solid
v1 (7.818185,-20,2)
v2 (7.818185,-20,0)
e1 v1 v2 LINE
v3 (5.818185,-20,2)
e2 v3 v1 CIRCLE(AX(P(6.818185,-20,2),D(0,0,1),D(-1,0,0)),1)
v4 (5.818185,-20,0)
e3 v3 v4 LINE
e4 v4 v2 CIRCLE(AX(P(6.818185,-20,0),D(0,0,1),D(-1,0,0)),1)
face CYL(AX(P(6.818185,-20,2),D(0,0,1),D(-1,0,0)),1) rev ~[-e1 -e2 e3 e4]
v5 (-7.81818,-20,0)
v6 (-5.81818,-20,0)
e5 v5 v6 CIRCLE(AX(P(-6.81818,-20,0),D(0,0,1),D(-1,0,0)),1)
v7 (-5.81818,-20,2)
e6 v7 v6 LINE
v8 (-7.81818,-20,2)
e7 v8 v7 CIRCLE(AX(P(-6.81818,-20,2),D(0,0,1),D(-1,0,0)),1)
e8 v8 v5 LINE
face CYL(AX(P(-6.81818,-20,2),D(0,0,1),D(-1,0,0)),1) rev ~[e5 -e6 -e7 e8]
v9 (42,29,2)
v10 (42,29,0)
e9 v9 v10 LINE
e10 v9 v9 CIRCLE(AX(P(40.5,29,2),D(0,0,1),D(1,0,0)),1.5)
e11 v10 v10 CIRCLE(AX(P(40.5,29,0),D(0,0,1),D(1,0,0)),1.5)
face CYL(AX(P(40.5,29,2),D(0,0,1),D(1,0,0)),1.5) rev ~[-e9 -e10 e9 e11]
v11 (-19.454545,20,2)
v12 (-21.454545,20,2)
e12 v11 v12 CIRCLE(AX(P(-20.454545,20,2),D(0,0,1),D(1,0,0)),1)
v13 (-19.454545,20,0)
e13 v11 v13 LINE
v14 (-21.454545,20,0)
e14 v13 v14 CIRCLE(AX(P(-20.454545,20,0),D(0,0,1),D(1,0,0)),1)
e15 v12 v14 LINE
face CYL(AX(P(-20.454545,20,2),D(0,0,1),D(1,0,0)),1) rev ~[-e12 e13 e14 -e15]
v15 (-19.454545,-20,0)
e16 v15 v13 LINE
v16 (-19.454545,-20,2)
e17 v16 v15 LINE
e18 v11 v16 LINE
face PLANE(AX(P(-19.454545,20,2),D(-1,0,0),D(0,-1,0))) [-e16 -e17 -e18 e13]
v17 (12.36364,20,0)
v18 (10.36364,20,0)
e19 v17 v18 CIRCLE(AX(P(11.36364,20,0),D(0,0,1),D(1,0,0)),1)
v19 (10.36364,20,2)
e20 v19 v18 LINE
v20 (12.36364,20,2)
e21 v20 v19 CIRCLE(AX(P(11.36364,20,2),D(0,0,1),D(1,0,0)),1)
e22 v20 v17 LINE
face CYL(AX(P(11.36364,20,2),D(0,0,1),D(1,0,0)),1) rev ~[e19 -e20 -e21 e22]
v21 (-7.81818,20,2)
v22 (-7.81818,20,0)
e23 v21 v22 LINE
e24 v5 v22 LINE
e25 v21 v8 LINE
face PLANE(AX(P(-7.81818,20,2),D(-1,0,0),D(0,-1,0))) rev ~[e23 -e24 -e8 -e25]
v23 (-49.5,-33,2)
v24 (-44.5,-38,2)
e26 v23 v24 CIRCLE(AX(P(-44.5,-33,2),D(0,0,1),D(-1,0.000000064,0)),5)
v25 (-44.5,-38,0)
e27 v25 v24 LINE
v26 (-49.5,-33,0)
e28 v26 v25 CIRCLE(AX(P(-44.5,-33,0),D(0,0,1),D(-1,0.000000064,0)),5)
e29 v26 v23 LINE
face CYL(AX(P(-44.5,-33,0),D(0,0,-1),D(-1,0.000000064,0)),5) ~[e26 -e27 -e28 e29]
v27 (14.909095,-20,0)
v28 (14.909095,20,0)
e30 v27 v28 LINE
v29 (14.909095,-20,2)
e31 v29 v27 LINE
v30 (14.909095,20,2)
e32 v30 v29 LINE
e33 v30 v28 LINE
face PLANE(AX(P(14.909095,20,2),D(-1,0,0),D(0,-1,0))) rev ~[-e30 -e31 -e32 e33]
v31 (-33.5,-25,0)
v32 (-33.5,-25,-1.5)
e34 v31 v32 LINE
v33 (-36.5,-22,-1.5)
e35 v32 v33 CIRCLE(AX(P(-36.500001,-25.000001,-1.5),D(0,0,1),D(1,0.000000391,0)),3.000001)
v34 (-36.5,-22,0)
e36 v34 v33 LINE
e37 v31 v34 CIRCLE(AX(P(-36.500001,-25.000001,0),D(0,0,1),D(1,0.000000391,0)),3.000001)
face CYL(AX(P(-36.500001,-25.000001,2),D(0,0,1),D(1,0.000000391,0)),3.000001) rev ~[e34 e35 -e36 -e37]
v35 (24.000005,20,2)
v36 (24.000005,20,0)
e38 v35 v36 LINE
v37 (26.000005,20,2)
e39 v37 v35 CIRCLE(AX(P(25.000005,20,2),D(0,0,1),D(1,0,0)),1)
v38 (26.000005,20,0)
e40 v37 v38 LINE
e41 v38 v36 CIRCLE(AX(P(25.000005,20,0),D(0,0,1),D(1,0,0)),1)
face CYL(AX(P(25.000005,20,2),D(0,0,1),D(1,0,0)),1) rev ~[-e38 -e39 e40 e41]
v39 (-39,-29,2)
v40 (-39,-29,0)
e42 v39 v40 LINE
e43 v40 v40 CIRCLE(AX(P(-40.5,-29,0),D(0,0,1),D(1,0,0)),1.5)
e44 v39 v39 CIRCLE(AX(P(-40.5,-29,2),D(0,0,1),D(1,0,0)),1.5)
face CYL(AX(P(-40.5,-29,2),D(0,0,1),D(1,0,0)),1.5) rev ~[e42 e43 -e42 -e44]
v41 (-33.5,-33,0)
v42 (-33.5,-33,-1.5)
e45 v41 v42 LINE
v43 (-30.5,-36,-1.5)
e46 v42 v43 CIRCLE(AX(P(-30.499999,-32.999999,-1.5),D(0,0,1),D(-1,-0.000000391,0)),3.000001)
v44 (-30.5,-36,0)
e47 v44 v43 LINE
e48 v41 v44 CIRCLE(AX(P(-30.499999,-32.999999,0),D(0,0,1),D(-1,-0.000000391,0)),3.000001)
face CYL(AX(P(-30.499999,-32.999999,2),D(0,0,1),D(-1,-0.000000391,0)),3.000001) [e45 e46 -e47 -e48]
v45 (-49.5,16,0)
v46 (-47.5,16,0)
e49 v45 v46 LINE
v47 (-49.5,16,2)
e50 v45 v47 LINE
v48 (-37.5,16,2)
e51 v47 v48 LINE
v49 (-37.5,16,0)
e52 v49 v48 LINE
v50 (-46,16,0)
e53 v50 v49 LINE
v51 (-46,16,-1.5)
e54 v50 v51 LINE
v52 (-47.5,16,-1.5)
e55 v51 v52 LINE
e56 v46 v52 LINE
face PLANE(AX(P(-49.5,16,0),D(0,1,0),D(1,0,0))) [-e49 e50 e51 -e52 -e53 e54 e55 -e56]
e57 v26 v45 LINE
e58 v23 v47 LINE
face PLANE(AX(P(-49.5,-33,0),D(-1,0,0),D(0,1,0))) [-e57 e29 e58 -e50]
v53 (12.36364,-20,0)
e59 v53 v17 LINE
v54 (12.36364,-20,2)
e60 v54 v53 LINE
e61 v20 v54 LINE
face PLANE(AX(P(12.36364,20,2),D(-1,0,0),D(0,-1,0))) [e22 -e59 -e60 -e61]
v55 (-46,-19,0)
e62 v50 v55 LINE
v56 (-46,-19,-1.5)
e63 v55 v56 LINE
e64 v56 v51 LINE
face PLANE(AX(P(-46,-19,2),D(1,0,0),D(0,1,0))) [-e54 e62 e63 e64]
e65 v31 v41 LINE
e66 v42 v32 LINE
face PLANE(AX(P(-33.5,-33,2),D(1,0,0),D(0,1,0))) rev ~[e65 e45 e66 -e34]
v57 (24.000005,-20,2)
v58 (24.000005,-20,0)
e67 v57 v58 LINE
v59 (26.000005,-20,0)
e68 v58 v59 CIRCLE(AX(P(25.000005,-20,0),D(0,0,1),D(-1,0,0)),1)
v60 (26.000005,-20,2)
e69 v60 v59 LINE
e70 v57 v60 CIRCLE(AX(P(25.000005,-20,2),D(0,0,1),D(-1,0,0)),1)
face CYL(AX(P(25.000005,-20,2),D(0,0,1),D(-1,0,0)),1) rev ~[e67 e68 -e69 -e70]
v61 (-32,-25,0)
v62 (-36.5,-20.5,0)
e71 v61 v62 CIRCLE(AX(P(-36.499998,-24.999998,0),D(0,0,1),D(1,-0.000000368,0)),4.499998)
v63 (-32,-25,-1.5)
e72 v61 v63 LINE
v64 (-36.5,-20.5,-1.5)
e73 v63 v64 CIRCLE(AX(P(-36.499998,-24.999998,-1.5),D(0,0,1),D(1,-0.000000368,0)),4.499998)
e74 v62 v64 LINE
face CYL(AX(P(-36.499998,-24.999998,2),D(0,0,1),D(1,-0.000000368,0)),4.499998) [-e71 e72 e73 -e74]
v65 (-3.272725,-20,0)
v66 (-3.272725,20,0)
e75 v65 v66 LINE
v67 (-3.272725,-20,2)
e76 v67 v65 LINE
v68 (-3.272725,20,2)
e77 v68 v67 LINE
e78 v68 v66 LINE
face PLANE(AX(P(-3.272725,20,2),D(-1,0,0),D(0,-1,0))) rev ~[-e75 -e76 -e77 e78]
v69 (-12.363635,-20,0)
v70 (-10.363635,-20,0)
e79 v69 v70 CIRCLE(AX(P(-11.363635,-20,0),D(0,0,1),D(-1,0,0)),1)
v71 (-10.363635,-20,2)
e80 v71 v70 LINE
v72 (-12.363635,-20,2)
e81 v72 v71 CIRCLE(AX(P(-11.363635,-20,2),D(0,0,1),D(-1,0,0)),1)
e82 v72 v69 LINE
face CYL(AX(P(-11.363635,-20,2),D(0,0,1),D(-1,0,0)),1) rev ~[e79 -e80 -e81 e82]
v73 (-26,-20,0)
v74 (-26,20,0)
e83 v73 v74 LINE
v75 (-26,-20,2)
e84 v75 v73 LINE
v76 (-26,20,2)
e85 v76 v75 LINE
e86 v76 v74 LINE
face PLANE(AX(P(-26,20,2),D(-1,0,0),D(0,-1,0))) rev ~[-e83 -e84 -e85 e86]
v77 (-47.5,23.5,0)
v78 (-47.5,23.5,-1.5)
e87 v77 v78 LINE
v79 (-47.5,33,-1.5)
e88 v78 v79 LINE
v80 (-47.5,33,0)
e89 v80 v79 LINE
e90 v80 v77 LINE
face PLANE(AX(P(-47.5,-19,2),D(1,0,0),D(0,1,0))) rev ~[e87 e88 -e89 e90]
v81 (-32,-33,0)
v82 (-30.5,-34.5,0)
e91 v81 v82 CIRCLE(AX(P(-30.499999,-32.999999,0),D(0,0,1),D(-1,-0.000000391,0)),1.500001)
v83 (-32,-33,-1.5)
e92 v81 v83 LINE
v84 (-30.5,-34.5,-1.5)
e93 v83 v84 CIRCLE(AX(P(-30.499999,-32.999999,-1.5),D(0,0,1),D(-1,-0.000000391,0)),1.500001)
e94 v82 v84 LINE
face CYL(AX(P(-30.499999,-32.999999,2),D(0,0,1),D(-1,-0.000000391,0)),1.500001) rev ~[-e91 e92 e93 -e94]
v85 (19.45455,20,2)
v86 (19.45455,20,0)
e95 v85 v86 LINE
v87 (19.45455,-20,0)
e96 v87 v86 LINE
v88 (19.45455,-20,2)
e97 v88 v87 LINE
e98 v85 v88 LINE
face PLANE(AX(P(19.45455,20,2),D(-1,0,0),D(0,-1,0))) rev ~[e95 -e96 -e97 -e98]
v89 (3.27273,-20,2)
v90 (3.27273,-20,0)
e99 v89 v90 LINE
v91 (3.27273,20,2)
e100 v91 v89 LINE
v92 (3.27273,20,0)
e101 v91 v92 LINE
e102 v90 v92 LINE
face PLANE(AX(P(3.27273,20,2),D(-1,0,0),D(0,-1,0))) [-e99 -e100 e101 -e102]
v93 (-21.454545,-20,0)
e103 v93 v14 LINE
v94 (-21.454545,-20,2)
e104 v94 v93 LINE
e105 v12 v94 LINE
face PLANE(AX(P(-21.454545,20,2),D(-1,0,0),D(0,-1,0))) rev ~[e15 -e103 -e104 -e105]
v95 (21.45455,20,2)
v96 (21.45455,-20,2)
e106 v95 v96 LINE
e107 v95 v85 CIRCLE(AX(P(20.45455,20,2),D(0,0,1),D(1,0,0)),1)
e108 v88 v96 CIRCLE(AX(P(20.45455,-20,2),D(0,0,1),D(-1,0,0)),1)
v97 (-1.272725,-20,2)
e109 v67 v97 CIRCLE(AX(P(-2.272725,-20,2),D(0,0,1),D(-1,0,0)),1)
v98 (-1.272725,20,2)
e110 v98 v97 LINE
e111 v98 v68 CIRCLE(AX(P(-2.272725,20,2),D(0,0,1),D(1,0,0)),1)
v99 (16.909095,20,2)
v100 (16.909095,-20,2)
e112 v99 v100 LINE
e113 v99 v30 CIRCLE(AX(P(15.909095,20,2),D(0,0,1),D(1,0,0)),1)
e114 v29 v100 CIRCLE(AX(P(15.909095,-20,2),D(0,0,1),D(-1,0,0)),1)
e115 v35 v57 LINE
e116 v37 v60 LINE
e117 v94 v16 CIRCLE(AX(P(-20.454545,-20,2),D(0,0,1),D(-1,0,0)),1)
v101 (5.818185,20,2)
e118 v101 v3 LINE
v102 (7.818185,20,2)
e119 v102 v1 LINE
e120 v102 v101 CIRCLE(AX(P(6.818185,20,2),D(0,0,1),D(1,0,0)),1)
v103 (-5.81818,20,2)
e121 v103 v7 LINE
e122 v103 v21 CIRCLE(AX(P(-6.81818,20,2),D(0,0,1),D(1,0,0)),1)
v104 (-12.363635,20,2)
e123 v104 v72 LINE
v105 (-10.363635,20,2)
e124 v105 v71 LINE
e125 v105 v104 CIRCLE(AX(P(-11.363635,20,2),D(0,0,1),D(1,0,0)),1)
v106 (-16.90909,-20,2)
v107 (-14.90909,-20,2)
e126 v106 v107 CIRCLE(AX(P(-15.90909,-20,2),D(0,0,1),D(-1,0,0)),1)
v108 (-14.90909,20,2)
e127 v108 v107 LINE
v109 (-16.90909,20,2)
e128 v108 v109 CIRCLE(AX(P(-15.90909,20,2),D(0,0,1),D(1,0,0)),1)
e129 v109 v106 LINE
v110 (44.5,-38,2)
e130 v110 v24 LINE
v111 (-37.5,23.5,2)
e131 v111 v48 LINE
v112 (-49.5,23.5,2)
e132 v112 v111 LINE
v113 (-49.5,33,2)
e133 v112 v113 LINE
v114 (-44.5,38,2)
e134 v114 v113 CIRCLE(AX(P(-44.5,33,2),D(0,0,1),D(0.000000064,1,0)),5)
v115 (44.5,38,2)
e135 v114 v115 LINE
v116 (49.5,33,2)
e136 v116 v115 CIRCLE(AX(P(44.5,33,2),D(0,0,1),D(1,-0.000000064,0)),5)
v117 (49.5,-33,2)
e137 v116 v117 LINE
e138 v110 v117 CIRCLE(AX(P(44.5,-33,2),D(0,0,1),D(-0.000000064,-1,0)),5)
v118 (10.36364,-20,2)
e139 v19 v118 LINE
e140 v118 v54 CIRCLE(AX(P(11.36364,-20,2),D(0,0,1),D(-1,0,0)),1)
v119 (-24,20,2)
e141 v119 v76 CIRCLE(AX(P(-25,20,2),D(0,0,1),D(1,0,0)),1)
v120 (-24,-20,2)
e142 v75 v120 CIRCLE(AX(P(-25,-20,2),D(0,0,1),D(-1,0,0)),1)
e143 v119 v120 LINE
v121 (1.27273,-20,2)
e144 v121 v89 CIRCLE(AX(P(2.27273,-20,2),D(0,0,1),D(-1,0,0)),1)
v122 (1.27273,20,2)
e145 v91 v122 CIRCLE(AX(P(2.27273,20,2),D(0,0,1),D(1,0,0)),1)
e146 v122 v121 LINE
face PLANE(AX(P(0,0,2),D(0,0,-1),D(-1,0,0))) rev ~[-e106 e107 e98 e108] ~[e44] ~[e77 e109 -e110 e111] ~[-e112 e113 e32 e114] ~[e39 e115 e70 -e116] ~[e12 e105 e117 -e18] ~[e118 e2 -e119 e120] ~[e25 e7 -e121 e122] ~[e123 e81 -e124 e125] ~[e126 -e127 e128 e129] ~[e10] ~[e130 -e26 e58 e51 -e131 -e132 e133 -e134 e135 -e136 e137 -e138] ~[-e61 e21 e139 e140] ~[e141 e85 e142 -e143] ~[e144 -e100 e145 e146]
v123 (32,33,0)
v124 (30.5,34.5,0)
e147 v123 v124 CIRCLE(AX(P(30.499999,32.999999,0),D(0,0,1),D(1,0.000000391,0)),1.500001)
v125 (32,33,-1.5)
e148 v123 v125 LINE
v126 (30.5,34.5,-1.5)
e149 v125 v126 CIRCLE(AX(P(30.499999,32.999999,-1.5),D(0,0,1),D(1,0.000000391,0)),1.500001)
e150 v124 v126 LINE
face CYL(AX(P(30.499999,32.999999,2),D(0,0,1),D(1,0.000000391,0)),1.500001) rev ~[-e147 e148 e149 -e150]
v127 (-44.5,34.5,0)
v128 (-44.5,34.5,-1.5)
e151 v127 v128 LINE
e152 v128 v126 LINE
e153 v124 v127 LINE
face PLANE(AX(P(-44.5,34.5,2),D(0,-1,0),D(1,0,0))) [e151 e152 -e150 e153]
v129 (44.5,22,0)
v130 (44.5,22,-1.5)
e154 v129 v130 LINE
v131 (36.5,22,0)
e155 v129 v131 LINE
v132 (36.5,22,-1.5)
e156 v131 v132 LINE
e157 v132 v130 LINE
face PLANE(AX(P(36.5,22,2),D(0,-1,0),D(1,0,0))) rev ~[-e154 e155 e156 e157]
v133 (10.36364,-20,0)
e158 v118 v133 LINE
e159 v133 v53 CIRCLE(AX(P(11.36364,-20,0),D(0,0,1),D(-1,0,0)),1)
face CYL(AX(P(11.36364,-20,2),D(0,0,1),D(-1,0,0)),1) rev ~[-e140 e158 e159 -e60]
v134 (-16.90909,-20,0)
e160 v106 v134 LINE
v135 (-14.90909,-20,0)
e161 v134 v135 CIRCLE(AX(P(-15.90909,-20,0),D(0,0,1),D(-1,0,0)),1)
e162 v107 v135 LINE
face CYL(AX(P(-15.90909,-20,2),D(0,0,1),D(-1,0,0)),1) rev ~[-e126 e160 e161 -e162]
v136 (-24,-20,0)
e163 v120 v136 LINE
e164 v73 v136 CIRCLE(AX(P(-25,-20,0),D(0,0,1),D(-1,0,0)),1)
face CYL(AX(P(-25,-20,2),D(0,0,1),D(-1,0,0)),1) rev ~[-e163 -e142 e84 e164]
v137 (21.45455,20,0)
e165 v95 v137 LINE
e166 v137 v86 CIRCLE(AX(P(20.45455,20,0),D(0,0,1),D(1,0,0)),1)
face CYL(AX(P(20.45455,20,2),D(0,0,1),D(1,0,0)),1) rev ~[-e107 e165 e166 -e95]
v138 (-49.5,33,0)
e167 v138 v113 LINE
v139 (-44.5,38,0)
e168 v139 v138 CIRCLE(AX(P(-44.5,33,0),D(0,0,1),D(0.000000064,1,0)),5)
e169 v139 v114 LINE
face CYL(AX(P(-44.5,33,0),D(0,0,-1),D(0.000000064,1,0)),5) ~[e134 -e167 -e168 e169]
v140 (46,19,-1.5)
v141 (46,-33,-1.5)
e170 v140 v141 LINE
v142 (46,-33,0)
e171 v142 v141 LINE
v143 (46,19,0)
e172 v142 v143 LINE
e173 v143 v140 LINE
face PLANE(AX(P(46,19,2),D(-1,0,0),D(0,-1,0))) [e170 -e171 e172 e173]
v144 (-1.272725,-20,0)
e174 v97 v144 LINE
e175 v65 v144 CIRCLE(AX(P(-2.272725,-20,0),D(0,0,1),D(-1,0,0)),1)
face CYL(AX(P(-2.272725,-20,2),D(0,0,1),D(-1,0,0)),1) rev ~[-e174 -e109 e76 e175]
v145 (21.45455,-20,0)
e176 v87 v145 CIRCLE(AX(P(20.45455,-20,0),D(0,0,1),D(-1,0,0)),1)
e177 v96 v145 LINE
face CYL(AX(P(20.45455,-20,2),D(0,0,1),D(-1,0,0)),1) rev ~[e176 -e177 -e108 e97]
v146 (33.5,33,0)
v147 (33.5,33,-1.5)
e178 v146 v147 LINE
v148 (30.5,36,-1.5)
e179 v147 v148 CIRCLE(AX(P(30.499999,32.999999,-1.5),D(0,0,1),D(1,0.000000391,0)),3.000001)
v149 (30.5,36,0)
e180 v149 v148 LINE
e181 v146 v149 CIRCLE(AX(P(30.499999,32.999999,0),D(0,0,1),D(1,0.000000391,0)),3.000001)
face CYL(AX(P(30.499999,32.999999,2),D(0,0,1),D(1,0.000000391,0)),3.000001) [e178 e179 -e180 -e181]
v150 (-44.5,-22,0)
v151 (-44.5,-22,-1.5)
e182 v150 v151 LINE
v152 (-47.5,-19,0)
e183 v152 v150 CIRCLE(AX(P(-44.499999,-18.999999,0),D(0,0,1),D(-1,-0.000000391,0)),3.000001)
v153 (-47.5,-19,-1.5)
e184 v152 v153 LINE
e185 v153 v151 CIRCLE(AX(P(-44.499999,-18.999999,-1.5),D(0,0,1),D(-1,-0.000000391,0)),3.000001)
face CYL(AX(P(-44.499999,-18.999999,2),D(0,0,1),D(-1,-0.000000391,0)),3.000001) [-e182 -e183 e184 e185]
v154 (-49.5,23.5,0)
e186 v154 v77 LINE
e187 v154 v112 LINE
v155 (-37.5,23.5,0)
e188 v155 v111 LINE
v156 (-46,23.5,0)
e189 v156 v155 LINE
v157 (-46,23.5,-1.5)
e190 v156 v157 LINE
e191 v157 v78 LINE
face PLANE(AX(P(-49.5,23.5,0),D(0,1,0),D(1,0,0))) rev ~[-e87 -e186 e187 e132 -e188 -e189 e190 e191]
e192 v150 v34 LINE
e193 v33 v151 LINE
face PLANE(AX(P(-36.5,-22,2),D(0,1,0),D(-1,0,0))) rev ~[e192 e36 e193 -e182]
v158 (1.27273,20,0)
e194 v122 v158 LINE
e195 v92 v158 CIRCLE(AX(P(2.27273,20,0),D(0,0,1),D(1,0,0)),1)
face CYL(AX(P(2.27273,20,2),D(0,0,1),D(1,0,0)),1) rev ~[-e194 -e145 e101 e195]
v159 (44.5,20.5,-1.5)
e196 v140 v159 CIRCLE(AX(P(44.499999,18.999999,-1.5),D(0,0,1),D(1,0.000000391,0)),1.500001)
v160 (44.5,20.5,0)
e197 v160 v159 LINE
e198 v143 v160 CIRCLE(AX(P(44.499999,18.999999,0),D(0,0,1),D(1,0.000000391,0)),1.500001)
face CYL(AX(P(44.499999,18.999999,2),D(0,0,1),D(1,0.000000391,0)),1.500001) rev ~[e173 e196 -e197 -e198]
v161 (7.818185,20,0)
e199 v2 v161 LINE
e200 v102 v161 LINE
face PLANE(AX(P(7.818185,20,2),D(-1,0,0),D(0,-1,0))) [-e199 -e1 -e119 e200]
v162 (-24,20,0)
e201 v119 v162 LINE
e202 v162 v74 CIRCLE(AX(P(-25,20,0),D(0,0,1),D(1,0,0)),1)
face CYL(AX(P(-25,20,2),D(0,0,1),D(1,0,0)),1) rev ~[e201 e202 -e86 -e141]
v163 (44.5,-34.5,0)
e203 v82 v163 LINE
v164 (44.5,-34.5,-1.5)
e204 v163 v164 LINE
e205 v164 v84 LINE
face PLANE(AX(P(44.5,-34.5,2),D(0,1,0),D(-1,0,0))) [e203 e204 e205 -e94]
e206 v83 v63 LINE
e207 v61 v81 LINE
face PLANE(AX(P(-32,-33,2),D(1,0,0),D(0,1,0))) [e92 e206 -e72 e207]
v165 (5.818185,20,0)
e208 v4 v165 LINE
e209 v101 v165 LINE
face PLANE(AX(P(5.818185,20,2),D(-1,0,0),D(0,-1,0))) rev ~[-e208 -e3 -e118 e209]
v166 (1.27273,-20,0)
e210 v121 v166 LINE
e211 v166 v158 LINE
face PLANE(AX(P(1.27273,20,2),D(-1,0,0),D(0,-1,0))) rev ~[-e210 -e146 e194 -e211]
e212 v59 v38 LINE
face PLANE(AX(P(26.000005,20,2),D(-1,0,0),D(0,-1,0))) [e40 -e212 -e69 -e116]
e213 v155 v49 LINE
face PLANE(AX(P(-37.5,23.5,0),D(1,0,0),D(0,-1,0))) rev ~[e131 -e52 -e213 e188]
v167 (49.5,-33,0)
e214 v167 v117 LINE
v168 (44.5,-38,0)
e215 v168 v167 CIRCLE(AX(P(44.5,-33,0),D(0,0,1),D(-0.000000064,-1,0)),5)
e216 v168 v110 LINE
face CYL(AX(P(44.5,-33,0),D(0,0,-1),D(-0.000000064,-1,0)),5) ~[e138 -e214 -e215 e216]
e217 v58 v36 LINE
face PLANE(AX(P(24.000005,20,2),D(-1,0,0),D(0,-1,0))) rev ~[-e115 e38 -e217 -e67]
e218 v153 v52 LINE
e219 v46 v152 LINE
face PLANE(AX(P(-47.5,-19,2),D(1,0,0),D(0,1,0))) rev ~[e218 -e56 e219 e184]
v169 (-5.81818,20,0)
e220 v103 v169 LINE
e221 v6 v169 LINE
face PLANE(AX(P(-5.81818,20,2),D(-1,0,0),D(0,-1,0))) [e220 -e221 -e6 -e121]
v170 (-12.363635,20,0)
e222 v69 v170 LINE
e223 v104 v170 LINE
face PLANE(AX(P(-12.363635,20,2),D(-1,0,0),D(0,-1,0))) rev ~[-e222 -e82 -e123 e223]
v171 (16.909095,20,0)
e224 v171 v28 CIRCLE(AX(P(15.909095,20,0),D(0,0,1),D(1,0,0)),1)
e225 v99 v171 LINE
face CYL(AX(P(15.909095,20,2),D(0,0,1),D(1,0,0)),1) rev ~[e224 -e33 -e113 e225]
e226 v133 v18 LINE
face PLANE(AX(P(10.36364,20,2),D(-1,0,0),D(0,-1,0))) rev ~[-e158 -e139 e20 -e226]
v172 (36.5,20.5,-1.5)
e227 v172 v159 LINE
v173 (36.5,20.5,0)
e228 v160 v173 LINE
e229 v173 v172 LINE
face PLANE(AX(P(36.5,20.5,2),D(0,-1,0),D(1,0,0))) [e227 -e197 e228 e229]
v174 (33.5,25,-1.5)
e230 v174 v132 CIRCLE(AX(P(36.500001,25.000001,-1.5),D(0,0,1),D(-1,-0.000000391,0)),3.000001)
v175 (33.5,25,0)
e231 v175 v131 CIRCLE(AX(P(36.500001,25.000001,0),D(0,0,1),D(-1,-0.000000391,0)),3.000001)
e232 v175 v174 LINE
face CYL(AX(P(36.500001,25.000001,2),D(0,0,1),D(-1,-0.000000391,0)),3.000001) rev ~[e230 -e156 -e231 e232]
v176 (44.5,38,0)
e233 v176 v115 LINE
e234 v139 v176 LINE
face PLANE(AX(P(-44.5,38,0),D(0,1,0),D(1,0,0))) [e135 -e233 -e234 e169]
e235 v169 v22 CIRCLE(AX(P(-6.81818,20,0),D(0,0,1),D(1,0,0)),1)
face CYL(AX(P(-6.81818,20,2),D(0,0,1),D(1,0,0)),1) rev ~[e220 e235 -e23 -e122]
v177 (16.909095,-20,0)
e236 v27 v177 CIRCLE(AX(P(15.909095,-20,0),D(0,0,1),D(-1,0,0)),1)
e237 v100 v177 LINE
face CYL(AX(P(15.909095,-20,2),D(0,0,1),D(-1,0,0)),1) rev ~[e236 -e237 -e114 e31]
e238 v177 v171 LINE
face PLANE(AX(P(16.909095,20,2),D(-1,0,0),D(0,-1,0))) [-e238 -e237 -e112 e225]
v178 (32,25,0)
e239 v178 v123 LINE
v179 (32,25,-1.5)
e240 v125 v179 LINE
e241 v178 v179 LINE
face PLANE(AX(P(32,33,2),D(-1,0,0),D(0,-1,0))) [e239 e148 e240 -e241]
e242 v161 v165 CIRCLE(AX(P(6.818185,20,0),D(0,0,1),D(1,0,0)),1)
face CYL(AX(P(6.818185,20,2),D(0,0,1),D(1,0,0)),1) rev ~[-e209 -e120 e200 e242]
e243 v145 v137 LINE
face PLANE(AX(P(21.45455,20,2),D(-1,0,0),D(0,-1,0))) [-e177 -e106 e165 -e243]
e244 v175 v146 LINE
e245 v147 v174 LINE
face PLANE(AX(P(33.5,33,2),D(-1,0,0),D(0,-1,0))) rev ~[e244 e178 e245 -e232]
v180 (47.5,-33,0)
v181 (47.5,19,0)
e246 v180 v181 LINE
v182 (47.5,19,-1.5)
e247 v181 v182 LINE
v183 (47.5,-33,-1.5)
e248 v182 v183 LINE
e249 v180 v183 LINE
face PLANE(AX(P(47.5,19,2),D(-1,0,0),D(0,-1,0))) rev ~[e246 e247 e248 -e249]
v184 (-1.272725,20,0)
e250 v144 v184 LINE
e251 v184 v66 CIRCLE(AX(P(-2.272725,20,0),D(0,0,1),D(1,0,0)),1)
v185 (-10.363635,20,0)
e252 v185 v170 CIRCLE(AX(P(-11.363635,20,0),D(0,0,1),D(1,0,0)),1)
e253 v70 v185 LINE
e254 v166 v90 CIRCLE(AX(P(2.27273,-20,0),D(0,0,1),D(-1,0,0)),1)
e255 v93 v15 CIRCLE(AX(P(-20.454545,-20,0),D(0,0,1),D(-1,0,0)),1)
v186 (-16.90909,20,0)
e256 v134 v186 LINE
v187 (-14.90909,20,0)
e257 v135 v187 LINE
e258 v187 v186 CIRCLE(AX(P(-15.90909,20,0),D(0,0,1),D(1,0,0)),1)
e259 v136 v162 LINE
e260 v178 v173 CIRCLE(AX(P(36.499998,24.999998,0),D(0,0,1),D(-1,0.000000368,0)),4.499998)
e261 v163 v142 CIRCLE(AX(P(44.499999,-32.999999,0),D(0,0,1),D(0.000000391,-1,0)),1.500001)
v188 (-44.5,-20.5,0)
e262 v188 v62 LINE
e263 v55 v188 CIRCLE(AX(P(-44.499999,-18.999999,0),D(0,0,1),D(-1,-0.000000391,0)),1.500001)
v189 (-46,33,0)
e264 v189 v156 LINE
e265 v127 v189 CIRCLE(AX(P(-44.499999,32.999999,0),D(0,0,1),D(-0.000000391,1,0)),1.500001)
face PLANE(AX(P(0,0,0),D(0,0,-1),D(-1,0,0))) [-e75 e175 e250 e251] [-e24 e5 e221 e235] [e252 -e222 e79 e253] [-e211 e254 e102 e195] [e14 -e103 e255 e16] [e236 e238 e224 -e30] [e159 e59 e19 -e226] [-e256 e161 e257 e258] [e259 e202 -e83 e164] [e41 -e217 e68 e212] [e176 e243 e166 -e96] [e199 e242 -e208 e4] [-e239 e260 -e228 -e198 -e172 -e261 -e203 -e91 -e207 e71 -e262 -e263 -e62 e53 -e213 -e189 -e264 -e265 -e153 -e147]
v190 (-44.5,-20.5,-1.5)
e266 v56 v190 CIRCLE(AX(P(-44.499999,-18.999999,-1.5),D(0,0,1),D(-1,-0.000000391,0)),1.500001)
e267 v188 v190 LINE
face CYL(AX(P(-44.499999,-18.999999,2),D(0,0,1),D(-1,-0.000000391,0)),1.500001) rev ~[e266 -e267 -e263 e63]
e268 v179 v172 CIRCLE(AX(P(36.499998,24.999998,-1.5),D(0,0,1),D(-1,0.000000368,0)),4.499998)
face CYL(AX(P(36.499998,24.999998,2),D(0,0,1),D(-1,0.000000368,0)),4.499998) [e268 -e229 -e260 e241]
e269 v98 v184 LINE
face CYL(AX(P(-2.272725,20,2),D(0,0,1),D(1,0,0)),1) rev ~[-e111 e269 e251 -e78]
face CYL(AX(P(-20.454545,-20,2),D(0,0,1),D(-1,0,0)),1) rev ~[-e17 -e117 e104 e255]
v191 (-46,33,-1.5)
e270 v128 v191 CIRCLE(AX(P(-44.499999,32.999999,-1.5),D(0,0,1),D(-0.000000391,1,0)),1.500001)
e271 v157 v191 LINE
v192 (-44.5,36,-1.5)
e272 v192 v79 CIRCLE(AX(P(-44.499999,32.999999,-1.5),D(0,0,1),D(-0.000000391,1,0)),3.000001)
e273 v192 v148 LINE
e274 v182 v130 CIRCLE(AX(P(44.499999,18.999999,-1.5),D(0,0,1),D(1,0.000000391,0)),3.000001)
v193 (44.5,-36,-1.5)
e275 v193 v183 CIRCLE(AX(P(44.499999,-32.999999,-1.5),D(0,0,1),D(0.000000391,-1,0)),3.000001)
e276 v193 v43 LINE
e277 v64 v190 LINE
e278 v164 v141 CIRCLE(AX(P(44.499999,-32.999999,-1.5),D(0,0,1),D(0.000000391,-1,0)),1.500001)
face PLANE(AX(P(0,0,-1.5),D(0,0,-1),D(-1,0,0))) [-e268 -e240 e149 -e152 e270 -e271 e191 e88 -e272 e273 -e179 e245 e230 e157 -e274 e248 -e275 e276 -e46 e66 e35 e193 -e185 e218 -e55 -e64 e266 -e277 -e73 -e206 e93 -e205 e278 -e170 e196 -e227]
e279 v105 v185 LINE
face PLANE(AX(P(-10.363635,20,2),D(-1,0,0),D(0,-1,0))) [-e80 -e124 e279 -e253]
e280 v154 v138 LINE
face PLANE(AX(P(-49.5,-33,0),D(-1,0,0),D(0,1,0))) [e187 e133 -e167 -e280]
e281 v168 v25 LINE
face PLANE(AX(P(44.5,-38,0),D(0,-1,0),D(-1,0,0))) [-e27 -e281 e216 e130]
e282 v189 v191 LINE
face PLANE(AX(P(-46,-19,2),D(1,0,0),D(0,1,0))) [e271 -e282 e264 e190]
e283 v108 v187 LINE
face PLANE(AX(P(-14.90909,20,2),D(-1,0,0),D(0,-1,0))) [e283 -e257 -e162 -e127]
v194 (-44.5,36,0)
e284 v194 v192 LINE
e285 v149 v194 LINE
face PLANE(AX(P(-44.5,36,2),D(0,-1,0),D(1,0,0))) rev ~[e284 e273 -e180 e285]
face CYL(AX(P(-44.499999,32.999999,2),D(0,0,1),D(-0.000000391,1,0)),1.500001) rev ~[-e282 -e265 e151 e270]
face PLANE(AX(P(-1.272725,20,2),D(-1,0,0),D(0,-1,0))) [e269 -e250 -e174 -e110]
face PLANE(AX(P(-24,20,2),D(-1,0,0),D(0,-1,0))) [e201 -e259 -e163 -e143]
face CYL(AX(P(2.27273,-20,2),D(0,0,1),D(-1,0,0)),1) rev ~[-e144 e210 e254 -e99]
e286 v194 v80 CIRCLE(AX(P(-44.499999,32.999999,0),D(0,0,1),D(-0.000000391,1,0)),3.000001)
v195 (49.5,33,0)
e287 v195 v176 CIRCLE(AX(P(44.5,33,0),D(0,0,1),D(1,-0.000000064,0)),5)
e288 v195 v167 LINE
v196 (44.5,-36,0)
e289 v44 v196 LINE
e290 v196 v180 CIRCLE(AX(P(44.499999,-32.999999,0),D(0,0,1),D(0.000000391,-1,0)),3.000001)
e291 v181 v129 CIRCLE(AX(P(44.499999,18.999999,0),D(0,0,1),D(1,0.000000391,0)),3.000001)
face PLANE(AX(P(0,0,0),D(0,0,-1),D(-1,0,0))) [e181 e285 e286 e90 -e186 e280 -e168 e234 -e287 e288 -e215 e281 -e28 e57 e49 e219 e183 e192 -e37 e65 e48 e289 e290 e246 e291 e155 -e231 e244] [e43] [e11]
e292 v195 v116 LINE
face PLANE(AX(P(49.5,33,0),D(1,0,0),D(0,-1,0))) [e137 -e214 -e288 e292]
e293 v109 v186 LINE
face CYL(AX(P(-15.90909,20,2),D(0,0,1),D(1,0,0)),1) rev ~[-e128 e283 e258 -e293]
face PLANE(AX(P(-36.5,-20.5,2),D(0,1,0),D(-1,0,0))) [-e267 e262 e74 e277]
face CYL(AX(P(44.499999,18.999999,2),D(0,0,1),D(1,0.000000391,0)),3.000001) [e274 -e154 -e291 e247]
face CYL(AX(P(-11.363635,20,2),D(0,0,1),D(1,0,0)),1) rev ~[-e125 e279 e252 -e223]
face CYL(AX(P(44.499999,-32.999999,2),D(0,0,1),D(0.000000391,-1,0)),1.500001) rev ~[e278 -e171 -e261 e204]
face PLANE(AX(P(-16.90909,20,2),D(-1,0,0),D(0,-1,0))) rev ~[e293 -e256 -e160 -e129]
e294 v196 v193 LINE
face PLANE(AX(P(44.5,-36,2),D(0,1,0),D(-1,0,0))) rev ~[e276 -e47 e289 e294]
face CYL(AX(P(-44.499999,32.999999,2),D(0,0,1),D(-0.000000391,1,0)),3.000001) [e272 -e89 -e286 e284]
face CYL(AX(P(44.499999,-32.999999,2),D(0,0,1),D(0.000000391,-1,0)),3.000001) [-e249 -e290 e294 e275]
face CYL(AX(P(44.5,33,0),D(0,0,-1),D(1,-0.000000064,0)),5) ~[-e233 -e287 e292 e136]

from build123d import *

# Parameters (mm, degrees)
PAD_DEPTH            = 2
PAD001_DEPTH         = 3.5
SKETCH002_R          = 1.5
POCKET_DEPTH         = 5
POCKET001_DEPTH      = 5
LINEARPATTERN_COUNT  = 12
LINEARPATTERN_PITCH  = 4.545455
SKETCH004_W          = 12
SKETCH004_H          = 7.5
POCKET002_DEPTH      = 10
POCKET002_DEPTH_BACK = -100


with BuildPart() as part:
    # Sketch → Pad (new body)
    with BuildSketch(Plane.XY):
        with BuildLine():
            Line((-44.5, 38), (44.5, 38))
            ThreePointArc((49.5, 33), (48.035534, 36.535534), (44.5, 38))
            Line((49.5, 33), (49.5, -33))
            ThreePointArc((44.5, -38), (48.035534, -36.535534), (49.5, -33))
            Line((44.5, -38), (-44.5, -38))
            ThreePointArc((-49.5, -33), (-48.035534, -36.535534), (-44.5, -38))
            Line((-49.5, -33), (-49.5, 33))
            ThreePointArc((-44.5, 38), (-48.035534, 36.535534), (-49.5, 33))
        make_face()
    extrude(amount=PAD_DEPTH)

    # Sketch001 (on Face10 of Pad) → Pad001 (join)
    with BuildSketch(Plane.XY.offset(2)):
        with BuildLine():
            Line((-44.5, 36), (30.5, 36))
            ThreePointArc((33.5, 33), (32.62132, 35.12132), (30.5, 36))
            Line((33.5, 33), (33.5, 25))
            ThreePointArc((33.5, 25), (34.37868, 22.87868), (36.5, 22))
            Line((36.5, 22), (44.5, 22))
            ThreePointArc((47.5, 19), (46.62132, 21.12132), (44.5, 22))
            Line((47.5, 19), (47.5, -33))
            ThreePointArc((44.5, -36), (46.62132, -35.12132), (47.5, -33))
            Line((44.5, -36), (-30.5, -36))
            ThreePointArc((-33.5, -33), (-32.62132, -35.12132), (-30.5, -36))
            Line((-33.5, -33), (-33.5, -25))
            ThreePointArc((-33.5, -25), (-34.37868, -22.87868), (-36.5, -22))
            Line((-36.5, -22), (-44.5, -22))
            ThreePointArc((-47.5, -19), (-46.62132, -21.12132), (-44.5, -22))
            Line((-47.5, -19), (-47.5, 33))
            ThreePointArc((-44.5, 36), (-46.62132, 35.12132), (-47.5, 33))
        make_face()
        with BuildLine():
            Line((-46, -19), (-46, 33))
            ThreePointArc((-44.5, 34.5), (-45.56066, 34.06066), (-46, 33))
            Line((-44.5, 34.5), (30.5, 34.5))
            ThreePointArc((32, 33), (31.56066, 34.06066), (30.5, 34.5))
            Line((32, 33), (32, 25))
            ThreePointArc((32, 25), (33.318019, 21.818019), (36.5, 20.5))
            Line((36.5, 20.5), (44.5, 20.5))
            ThreePointArc((46, 19), (45.56066, 20.06066), (44.5, 20.5))
            Line((46, 19), (46, -33))
            ThreePointArc((44.5, -34.5), (45.56066, -34.06066), (46, -33))
            Line((44.5, -34.5), (-30.5, -34.5))
            ThreePointArc((-32, -33), (-31.56066, -34.06066), (-30.5, -34.5))
            Line((-32, -33), (-32, -25))
            ThreePointArc((-32, -25), (-33.318019, -21.818019), (-36.5, -20.5))
            Line((-36.5, -20.5), (-44.5, -20.5))
            ThreePointArc((-46, -19), (-45.56066, -20.06066), (-44.5, -20.5))
        make_face(mode=Mode.SUBTRACT)
    extrude(amount=-PAD001_DEPTH)

    # Sketch002 (on Face5 of Pad001) → Pocket (cut)
    with BuildSketch(Plane.XY.offset(2)):
        with Locations((40.5, 29)):
            Circle(SKETCH002_R)
        with Locations((-40.5, -29)):
            Circle(SKETCH002_R)
    extrude(amount=-POCKET_DEPTH, mode=Mode.SUBTRACT)

    # Sketch003 (on Face46 of Pocket) → Pocket001 (cut)
    with BuildSketch(Plane.XY.offset(2)):
        with BuildLine():
            ThreePointArc((-24, 20), (-25, 21), (-26, 20))
            Line((-26, 20), (-26, -20))
            ThreePointArc((-26, -20), (-25, -21), (-24, -20))
            Line((-24, 20), (-24, -20))
        make_face()
    pocket001 = extrude(amount=-POCKET001_DEPTH, mode=Mode.SUBTRACT)

    # LinearPattern: Pocket001 ×12
    with Locations(*[(i * LINEARPATTERN_PITCH, 0, 0) for i in range(1, LINEARPATTERN_COUNT)]):
        add(pocket001, mode=Mode.SUBTRACT)

    # Sketch004 (on Face4 of LinearPattern) → Pocket002 (cut, two sides)
    with BuildSketch(Plane(origin=(0, 0, 0), x_dir=(1, 0, 0), z_dir=(0, 0, -1))) as pocket002_sk:
        with Locations((-43.5, -19.75)):
            Rectangle(SKETCH004_W, SKETCH004_H)
    extrude(amount=-POCKET002_DEPTH, mode=Mode.SUBTRACT)
    extrude(pocket002_sk.sketch, amount=-POCKET002_DEPTH_BACK, mode=Mode.SUBTRACT)


solid = part.part
